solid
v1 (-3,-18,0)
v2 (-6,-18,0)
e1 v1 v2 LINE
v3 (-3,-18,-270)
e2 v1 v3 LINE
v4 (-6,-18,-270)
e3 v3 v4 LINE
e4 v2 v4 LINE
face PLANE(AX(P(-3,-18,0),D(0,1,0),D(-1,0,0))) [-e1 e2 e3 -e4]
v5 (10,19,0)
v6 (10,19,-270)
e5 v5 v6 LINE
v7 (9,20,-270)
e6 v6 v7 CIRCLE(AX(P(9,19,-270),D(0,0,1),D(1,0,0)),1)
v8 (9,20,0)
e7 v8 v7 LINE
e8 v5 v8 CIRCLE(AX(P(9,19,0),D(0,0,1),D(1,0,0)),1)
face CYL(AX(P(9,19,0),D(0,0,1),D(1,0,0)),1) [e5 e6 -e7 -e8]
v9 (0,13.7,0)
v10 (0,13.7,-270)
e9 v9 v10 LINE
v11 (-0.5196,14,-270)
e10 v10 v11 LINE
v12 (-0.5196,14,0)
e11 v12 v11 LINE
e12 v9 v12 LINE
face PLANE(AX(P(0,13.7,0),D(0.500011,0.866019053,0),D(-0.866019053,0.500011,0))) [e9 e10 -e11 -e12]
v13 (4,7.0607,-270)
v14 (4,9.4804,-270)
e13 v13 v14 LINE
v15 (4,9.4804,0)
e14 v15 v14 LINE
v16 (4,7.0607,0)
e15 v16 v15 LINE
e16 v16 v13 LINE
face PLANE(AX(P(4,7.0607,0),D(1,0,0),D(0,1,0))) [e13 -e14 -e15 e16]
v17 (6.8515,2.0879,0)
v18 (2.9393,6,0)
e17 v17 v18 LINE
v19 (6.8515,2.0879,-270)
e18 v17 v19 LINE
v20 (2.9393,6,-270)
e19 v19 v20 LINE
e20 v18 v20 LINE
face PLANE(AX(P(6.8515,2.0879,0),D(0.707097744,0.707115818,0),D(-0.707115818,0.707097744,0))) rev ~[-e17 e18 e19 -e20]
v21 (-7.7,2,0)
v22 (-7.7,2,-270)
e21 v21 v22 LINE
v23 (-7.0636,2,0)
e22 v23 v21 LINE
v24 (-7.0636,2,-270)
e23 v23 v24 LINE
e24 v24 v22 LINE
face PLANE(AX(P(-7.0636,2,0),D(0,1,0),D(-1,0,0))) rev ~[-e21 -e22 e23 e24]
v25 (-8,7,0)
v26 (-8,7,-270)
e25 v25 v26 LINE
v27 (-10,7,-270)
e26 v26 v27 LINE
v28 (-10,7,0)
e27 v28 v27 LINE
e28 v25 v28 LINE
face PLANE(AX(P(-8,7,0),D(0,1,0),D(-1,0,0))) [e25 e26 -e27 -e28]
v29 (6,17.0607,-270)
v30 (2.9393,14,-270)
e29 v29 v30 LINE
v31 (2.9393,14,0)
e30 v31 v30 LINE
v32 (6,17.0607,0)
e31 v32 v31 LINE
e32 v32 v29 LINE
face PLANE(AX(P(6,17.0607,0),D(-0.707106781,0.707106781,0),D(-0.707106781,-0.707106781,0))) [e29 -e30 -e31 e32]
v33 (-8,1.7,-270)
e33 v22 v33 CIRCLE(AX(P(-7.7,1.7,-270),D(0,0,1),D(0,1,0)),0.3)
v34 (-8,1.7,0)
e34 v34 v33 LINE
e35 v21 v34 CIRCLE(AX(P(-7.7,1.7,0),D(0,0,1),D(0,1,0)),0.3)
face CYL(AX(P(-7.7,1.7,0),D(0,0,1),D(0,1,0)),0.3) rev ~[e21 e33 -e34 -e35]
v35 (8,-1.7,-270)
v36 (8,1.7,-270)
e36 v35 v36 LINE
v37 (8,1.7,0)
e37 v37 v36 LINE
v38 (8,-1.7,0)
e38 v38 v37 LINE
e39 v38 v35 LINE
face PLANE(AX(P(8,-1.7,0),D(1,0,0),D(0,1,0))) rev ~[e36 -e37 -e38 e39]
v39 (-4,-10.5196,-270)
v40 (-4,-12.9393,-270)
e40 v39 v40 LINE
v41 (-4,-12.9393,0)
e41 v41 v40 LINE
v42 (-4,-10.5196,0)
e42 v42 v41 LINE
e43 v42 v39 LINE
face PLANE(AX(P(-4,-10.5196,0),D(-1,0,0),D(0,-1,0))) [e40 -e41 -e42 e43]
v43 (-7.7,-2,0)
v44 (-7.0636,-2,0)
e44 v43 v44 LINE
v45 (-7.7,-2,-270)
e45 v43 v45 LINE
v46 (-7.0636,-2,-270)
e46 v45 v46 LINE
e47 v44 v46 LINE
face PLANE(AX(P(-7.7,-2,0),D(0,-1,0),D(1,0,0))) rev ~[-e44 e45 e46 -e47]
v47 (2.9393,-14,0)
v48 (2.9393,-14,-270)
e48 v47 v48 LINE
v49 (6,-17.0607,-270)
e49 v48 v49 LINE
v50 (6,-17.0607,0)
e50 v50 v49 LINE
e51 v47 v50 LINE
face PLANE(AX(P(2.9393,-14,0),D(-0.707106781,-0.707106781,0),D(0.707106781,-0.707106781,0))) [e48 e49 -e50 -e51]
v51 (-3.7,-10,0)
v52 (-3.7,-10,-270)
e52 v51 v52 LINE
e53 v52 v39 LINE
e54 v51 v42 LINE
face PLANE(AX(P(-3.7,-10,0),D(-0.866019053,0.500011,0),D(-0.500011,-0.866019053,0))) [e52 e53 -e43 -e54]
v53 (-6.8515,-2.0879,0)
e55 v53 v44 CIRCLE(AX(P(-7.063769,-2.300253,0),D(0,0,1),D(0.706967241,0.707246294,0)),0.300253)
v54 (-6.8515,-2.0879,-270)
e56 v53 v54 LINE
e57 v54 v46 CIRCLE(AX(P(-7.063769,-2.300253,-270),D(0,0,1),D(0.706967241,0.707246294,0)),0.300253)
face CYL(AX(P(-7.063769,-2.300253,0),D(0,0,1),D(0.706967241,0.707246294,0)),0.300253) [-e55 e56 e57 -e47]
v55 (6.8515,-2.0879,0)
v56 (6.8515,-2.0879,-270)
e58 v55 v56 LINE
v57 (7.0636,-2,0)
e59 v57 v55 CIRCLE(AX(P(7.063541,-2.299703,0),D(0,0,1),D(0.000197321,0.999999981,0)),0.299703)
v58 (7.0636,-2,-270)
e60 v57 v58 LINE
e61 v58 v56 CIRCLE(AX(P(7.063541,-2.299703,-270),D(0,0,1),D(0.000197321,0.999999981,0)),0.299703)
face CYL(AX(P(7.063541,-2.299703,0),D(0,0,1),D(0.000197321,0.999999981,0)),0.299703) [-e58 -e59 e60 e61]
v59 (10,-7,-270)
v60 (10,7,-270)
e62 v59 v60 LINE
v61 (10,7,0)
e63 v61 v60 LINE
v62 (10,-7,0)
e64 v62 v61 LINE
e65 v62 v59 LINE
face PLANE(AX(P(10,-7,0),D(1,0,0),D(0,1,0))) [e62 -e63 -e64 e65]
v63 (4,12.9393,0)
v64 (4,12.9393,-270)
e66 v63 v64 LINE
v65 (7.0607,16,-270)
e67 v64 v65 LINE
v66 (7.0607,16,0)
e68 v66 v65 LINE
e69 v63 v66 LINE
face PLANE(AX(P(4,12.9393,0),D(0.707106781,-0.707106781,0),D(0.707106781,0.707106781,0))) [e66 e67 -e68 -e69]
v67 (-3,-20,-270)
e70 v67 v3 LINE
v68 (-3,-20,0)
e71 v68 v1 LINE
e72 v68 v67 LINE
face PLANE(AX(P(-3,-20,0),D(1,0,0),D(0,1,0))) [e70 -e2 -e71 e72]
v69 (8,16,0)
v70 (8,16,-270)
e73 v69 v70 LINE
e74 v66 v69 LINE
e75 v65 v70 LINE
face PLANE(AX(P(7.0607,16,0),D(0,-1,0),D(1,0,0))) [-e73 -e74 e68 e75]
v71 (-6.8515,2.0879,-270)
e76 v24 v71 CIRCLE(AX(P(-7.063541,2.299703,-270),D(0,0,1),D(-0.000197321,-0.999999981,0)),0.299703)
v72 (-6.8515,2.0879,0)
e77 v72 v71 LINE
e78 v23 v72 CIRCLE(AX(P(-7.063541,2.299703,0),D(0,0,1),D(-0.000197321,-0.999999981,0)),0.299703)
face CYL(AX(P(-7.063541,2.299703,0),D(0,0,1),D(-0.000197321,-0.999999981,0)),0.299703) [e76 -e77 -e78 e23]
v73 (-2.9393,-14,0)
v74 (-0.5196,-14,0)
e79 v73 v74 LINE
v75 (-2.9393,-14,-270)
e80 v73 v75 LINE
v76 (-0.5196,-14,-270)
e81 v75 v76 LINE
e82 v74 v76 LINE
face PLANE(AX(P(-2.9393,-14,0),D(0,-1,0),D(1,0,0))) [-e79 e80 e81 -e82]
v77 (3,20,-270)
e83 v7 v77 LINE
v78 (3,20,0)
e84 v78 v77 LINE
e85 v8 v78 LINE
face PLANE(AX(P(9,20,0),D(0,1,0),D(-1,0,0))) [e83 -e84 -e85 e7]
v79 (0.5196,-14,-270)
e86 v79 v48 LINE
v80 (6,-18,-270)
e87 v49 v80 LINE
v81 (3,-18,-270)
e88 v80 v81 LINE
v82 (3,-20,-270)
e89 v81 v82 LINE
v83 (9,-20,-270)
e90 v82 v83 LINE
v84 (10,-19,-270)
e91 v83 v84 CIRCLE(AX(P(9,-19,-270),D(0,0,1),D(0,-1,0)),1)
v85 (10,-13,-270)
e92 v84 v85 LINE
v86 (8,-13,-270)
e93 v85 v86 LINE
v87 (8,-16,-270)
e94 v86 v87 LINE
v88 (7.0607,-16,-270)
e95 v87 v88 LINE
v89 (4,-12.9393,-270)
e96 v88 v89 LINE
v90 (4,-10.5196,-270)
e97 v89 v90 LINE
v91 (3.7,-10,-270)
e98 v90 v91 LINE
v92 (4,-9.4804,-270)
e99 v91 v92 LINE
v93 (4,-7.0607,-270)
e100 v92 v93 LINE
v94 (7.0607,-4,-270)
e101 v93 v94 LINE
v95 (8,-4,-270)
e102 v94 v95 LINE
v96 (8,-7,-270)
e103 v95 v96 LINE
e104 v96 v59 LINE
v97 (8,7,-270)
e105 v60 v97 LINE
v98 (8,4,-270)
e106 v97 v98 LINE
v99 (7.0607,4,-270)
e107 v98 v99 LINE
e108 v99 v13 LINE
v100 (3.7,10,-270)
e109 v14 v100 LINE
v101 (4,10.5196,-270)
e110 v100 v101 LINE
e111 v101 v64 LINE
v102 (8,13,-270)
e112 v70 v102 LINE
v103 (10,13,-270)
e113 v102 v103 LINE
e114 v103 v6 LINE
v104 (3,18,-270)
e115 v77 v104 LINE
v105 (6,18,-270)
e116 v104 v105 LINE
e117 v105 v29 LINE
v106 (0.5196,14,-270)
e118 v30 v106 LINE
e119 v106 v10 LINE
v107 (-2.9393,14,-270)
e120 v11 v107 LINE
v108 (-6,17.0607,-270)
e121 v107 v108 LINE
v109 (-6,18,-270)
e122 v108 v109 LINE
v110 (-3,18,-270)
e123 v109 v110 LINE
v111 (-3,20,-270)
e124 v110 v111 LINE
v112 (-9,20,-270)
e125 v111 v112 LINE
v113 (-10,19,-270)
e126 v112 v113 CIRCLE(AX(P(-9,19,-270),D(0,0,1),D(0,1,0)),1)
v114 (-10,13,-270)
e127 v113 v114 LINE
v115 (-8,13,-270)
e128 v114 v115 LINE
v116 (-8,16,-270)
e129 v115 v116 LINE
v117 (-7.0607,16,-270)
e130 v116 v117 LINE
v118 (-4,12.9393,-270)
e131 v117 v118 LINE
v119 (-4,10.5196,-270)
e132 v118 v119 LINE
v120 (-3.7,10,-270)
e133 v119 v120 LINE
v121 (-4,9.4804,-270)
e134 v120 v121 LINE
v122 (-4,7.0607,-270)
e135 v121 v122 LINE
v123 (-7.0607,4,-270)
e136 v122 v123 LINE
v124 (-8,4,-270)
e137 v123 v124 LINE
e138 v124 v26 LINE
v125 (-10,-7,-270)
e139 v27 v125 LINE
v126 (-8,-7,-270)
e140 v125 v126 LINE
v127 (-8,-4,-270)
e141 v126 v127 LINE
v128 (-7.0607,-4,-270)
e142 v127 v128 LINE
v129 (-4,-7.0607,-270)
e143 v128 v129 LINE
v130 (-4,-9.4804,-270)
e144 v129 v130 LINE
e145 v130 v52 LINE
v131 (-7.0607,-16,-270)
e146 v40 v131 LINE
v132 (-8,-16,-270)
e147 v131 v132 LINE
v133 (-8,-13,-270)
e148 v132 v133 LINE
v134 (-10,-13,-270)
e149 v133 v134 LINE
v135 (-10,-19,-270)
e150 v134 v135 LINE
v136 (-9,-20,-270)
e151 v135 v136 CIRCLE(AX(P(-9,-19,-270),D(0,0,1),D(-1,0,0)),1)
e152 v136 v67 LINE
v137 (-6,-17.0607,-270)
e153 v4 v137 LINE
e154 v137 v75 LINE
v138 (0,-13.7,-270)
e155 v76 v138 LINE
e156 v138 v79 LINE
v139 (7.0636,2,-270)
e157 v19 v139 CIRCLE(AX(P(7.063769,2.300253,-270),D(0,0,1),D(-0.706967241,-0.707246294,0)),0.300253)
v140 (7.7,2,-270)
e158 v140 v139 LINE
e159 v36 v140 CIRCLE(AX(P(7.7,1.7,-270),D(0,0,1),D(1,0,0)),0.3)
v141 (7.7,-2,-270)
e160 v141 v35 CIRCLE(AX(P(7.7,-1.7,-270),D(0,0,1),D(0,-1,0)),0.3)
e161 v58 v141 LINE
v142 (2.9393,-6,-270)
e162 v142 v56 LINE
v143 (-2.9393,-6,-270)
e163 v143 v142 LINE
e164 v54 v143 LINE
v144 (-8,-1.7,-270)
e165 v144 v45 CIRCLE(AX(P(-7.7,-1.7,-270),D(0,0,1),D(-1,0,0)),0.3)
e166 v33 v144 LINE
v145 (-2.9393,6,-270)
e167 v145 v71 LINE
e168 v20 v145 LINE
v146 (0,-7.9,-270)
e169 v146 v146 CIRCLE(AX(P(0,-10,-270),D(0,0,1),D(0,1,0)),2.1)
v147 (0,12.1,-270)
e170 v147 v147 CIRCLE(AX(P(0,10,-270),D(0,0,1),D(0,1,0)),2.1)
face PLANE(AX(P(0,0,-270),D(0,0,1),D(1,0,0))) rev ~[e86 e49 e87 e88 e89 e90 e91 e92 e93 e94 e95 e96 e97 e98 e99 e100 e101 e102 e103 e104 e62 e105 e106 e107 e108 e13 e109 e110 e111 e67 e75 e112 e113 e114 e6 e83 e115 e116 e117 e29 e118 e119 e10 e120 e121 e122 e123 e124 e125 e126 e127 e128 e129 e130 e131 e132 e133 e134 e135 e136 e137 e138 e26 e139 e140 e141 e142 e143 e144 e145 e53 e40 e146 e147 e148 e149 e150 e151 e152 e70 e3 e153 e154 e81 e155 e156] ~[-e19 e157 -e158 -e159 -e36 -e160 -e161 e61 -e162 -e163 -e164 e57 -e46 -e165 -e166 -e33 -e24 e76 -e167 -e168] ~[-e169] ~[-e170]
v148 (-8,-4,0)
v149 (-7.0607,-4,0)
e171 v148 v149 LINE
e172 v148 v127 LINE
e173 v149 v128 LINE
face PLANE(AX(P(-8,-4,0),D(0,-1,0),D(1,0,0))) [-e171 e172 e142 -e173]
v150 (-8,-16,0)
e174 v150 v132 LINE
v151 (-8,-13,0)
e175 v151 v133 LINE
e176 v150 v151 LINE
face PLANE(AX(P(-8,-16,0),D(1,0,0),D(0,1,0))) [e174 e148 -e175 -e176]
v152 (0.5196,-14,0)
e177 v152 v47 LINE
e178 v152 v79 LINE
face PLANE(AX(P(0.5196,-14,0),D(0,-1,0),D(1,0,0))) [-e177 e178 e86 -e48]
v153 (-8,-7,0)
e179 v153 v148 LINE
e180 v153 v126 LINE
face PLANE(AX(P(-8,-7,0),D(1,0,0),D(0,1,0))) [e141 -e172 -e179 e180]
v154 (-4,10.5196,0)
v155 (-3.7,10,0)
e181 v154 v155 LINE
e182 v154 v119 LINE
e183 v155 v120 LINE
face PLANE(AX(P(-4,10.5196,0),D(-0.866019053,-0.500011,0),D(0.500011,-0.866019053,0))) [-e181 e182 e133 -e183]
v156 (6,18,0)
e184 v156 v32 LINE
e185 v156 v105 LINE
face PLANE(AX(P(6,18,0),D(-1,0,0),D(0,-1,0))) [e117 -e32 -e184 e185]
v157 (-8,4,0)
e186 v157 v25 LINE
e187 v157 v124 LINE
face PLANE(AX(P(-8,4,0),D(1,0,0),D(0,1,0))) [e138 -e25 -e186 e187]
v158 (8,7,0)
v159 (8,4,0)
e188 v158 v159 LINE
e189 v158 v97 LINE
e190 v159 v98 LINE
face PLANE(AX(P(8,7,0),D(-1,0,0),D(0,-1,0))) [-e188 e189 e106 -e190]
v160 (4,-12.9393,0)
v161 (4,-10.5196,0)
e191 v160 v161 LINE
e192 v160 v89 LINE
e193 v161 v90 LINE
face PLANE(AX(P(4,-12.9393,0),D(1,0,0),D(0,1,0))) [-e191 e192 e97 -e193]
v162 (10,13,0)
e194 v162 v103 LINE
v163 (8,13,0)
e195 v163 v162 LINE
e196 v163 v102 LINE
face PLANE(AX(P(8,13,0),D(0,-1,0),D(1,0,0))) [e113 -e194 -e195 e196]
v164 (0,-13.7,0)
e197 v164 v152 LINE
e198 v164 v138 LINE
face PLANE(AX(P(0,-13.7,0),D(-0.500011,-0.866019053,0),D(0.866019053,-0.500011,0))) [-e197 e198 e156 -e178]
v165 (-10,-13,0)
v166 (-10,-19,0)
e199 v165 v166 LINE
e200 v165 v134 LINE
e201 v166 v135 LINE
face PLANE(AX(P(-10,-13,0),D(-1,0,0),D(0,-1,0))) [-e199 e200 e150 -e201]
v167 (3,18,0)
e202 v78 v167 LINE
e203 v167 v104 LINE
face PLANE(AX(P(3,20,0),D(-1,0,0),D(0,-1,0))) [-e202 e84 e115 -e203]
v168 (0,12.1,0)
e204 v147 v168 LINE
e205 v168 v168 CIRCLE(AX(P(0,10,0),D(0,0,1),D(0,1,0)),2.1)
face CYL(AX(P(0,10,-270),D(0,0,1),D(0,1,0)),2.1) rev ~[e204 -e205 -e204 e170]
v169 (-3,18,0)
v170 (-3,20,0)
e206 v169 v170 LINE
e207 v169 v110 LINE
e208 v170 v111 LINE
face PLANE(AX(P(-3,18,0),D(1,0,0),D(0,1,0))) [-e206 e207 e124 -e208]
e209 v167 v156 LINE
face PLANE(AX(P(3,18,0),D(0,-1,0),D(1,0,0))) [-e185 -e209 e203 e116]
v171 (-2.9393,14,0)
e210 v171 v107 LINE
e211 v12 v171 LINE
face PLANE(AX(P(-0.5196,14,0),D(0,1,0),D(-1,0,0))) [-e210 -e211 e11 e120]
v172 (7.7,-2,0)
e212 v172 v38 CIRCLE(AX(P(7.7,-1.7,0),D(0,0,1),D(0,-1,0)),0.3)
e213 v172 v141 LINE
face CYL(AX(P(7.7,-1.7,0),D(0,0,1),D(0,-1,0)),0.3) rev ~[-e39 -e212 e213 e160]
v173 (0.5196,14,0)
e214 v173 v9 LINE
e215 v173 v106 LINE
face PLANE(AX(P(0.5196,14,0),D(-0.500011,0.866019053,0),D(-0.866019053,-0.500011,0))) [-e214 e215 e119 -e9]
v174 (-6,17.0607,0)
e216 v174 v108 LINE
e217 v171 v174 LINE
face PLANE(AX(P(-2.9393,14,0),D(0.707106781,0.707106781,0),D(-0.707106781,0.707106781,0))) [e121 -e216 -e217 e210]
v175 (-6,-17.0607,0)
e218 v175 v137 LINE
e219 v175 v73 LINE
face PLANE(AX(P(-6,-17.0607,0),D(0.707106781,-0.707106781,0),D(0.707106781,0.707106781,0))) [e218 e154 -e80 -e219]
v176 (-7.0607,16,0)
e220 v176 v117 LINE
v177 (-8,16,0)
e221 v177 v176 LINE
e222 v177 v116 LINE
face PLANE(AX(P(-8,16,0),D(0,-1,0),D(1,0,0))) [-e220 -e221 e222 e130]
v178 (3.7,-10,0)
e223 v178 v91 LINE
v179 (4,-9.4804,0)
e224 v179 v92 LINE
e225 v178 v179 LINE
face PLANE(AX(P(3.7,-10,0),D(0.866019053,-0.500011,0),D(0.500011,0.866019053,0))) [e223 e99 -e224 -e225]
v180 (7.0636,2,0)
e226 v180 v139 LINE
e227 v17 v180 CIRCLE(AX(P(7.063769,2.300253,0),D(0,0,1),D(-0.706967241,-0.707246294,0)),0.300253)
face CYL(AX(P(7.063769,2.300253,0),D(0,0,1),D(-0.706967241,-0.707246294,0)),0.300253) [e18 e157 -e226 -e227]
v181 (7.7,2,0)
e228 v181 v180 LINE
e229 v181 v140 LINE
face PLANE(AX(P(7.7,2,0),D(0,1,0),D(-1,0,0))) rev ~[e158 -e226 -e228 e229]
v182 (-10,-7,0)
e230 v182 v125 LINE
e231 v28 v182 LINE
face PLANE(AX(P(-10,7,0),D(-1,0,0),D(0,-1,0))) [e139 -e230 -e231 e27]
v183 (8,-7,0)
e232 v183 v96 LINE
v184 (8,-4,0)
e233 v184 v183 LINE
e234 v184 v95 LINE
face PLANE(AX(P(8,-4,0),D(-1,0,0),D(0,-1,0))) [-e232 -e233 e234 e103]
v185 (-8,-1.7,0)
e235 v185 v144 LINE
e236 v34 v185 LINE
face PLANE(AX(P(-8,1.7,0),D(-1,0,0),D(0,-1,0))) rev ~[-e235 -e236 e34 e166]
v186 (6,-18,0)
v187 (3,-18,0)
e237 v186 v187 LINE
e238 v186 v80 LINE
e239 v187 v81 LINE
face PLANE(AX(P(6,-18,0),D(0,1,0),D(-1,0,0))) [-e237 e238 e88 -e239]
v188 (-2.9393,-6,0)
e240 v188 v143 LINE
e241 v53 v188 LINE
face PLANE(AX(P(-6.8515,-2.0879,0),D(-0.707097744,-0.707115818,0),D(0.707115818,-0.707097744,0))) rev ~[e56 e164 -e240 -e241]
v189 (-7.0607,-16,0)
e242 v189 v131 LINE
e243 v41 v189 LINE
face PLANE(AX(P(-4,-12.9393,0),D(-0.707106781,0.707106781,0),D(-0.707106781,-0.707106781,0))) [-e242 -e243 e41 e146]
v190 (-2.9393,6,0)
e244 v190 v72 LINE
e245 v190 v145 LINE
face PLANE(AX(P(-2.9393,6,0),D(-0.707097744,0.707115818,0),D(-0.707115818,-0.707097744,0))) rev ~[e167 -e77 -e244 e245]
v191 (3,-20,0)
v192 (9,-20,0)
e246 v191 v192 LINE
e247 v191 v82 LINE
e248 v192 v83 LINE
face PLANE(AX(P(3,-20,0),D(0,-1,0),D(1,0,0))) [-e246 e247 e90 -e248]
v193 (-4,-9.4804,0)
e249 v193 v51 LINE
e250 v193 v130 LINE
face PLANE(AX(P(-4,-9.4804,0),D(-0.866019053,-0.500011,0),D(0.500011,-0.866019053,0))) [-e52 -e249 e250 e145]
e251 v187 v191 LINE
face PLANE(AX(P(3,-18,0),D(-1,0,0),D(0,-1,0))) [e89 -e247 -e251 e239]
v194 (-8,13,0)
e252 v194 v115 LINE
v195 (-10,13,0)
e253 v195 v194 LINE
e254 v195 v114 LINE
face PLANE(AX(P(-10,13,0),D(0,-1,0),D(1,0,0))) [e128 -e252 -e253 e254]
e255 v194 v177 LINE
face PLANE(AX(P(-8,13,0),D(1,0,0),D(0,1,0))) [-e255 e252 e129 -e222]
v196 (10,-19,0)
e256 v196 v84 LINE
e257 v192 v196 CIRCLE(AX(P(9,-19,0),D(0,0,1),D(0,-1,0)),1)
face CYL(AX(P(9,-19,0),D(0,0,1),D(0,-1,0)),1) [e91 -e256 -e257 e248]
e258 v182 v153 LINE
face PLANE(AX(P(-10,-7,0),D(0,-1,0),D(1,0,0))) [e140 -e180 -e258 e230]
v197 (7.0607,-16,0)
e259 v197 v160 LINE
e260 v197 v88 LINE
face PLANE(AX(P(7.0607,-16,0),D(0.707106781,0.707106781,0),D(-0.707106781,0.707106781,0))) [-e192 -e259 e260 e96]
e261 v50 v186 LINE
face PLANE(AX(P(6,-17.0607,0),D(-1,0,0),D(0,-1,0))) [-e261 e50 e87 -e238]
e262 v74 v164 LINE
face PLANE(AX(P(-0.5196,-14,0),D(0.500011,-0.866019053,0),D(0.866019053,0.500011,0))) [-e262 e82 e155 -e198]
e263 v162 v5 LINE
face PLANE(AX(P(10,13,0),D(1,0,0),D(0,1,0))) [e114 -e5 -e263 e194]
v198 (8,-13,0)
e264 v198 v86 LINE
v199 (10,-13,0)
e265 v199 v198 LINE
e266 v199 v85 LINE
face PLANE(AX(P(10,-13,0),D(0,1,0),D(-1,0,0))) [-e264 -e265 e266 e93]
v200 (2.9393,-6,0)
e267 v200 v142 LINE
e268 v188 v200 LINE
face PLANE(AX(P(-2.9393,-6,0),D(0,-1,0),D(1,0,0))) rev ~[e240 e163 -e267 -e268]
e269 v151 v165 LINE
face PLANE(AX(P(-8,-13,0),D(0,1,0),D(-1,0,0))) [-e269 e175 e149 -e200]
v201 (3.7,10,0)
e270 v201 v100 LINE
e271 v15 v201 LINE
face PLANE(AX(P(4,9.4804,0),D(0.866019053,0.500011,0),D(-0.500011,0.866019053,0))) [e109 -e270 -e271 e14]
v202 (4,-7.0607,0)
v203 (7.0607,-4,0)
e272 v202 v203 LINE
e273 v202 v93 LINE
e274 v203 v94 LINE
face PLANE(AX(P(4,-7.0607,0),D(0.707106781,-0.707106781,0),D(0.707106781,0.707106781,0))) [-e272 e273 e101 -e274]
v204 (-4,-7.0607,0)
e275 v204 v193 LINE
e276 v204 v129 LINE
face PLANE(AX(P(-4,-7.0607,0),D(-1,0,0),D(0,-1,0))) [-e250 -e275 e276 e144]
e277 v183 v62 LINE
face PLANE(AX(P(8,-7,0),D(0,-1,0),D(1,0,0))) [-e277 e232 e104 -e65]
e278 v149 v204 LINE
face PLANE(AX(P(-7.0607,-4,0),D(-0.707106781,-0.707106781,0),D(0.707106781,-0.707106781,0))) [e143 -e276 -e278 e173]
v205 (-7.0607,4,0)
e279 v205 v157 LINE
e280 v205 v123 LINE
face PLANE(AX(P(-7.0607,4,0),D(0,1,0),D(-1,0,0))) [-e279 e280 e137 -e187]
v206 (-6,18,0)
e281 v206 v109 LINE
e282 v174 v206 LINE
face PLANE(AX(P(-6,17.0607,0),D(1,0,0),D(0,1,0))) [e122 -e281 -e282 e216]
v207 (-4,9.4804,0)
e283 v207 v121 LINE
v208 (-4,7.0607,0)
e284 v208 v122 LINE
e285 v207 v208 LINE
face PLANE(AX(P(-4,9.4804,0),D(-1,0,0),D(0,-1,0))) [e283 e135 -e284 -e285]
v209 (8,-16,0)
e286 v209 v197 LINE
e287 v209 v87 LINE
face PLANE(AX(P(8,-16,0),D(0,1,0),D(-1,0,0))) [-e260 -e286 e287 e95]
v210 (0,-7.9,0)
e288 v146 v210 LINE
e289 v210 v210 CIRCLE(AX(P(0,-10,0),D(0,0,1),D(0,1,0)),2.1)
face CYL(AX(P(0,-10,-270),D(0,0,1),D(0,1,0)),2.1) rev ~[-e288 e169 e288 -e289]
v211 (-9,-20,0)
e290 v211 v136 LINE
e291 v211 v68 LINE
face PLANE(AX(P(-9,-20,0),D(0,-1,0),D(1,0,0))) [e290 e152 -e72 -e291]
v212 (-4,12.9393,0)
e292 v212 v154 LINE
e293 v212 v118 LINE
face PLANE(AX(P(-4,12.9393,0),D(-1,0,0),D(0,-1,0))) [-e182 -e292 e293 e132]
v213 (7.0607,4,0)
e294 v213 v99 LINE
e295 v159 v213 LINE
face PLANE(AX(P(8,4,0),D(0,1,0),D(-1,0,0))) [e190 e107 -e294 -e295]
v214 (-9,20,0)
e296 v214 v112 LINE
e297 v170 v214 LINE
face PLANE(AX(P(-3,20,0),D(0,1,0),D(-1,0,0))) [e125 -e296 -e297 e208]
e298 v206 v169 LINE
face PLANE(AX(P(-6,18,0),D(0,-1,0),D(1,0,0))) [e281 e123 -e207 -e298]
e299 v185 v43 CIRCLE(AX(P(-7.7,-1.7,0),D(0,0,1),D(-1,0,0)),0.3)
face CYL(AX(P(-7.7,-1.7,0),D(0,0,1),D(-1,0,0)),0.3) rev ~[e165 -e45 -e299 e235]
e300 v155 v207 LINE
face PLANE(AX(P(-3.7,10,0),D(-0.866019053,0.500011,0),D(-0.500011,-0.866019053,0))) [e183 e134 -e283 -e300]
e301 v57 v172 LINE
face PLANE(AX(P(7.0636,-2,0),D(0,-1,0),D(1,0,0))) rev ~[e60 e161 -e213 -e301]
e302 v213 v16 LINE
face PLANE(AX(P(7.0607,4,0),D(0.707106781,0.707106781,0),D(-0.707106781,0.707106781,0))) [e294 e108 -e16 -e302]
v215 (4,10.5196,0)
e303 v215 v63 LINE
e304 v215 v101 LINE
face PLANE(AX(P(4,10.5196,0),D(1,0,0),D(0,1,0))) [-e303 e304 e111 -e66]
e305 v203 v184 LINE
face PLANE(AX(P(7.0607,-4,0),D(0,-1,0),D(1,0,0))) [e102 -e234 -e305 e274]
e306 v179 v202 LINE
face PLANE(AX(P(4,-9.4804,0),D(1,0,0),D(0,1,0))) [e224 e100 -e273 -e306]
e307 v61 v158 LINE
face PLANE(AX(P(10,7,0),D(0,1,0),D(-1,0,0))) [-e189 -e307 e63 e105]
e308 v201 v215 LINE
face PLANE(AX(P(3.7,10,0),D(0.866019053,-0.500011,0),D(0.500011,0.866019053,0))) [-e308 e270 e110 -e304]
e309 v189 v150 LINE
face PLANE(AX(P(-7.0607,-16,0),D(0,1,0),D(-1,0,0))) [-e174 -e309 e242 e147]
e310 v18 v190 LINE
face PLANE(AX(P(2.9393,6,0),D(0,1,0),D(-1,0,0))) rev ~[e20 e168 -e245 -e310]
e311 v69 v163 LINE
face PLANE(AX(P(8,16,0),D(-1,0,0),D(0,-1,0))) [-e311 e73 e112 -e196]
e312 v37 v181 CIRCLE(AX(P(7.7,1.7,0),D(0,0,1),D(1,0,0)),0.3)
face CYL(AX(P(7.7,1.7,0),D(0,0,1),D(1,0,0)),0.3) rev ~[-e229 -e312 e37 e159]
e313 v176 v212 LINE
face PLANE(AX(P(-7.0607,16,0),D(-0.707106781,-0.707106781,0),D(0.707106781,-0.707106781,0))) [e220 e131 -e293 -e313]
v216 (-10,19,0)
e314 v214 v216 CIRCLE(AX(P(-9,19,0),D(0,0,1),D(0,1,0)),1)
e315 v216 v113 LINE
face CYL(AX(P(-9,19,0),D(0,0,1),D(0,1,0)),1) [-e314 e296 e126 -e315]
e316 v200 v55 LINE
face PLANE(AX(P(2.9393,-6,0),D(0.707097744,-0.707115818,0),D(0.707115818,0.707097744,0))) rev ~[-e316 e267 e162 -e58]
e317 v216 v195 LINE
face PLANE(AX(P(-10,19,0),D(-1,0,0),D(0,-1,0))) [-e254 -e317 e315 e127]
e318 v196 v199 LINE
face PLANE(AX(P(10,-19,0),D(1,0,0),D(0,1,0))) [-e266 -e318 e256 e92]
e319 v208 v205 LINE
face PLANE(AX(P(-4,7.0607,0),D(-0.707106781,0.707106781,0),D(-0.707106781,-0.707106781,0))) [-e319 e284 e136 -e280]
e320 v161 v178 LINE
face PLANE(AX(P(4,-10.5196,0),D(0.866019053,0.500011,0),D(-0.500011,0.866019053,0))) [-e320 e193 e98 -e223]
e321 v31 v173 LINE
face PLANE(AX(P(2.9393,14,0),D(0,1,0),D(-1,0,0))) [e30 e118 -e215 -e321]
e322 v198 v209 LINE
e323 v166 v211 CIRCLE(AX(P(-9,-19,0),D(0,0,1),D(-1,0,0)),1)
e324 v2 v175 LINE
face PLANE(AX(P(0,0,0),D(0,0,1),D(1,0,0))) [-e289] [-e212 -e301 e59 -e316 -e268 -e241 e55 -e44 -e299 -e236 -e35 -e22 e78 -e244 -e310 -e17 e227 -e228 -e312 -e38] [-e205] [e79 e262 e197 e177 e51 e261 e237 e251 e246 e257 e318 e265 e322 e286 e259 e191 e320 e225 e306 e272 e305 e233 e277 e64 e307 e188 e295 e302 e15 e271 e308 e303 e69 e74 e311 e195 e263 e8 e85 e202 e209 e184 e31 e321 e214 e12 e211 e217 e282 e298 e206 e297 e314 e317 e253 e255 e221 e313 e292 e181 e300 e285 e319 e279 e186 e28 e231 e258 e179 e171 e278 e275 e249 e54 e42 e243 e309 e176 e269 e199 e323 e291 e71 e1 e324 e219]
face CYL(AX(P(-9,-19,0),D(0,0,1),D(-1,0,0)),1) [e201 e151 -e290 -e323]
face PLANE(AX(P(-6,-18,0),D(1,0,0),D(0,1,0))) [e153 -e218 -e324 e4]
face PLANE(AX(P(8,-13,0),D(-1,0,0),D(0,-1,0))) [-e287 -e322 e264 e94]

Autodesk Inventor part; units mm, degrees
sketch "Sketch_1" plane through (0, 0, 0) normal (0, 0, 1) x (1, 0, 0)
  line L0 (-10, -7) -> (-8, -7)
  line L1 (-8, -7) -> (-8, -4)
  line L2 (-8, -4) -> (-7.0607, -4)
  line L3 (-7.0607, -4) -> (-4, -7.0607)
  line L4 (-4, -7.0607) -> (-4, -9.4804)
  line L5 (-4, -9.4804) -> (-3.7, -10)
  line L6 (-3.7, -10) -> (-4, -10.5196)
  line L7 (-4, -10.5196) -> (-4, -12.9393)
  line L8 (-4, -12.9393) -> (-7.0607, -16)
  line L9 (-7.0607, -16) -> (-8, -16)
  line L10 (-8, -16) -> (-8, -13)
  line L11 (-8, -13) -> (-10, -13)
  line L12 (-10, -13) -> (-10, -19)
  arc A0 (-10, -19) -> (-9, -20) centre (-9, -19) ccw
  line L13 (-9, -20) -> (-3, -20)
  line L14 (-3, -20) -> (-3, -18)
  line L15 (-3, -18) -> (-6, -18)
  line L16 (-6, -18) -> (-6, -17.0607)
  line L17 (-6, -17.0607) -> (-2.9393, -14)
  line L18 (-2.9393, -14) -> (-0.5196, -14)
  line L19 (-0.5196, -14) -> (0, -13.7)
  line L20 (0, -13.7) -> (0.5196, -14)
  line L21 (0.5196, -14) -> (2.9393, -14)
  line L22 (2.9393, -14) -> (6, -17.0607)
  line L23 (6, -17.0607) -> (6, -18)
  line L24 (6, -18) -> (3, -18)
  line L25 (3, -18) -> (3, -20)
  line L26 (3, -20) -> (9, -20)
  arc A1 (9, -20) -> (10, -19) centre (9, -19) ccw
  line L27 (10, -19) -> (10, -13)
  line L28 (10, -13) -> (8, -13)
  line L29 (8, -13) -> (8, -16)
  line L30 (8, -16) -> (7.0607, -16)
  line L31 (7.0607, -16) -> (4, -12.9393)
  line L32 (4, -12.9393) -> (4, -10.5196)
  line L33 (4, -10.5196) -> (3.7, -10)
  line L34 (3.7, -10) -> (4, -9.4804)
  line L35 (4, -9.4804) -> (4, -7.0607)
  line L36 (4, -7.0607) -> (7.0607, -4)
  line L37 (7.0607, -4) -> (8, -4)
  line L38 (8, -4) -> (8, -7)
  line L39 (8, -7) -> (10, -7)
  line L40 (10, -7) -> (10, 7)
  line L41 (10, 7) -> (8, 7)
  line L42 (8, 7) -> (8, 4)
  line L43 (8, 4) -> (7.0607, 4)
  line L44 (7.0607, 4) -> (4, 7.0607)
  line L45 (4, 7.0607) -> (4, 9.4804)
  line L46 (4, 9.4804) -> (3.7, 10)
  line L47 (3.7, 10) -> (4, 10.5196)
  line L48 (4, 10.5196) -> (4, 12.9393)
  line L49 (4, 12.9393) -> (7.0607, 16)
  line L50 (7.0607, 16) -> (8, 16)
  line L51 (8, 16) -> (8, 13)
  line L52 (8, 13) -> (10, 13)
  line L53 (10, 13) -> (10, 19)
  arc A2 (10, 19) -> (9, 20) centre (9, 19) ccw
  line L54 (9, 20) -> (3, 20)
  line L55 (3, 20) -> (3, 18)
  line L56 (3, 18) -> (6, 18)
  line L57 (6, 18) -> (6, 17.0607)
  line L58 (6, 17.0607) -> (2.9393, 14)
  line L59 (2.9393, 14) -> (0.5196, 14)
  line L60 (0.5196, 14) -> (0, 13.7)
  line L61 (0, 13.7) -> (-0.5196, 14)
  line L62 (-0.5196, 14) -> (-2.9393, 14)
  line L63 (-2.9393, 14) -> (-6, 17.0607)
  line L64 (-6, 17.0607) -> (-6, 18)
  line L65 (-6, 18) -> (-3, 18)
  line L66 (-3, 18) -> (-3, 20)
  line L67 (-3, 20) -> (-9, 20)
  arc A3 (-9, 20) -> (-10, 19) centre (-9, 19) ccw
  line L68 (-10, 19) -> (-10, 13)
  line L69 (-10, 13) -> (-8, 13)
  line L70 (-8, 13) -> (-8, 16)
  line L71 (-8, 16) -> (-7.0607, 16)
  line L72 (-7.0607, 16) -> (-4, 12.9393)
  line L73 (-4, 12.9393) -> (-4, 10.5196)
  line L74 (-4, 10.5196) -> (-3.7, 10)
  line L75 (-3.7, 10) -> (-4, 9.4804)
  line L76 (-4, 9.4804) -> (-4, 7.0607)
  line L77 (-4, 7.0607) -> (-7.0607, 4)
  line L78 (-7.0607, 4) -> (-8, 4)
  line L79 (-8, 4) -> (-8, 7)
  line L80 (-8, 7) -> (-10, 7)
  line L81 (-10, 7) -> (-10, -7)
  line L82 (-8, 1.7) -> (-8, -1.7)
  arc A4 (-8, -1.7) -> (-7.7, -2) centre (-7.7, -1.7) ccw
  line L83 (-7.7, -2) -> (-7.0636, -2)
  arc A5 (-6.8515, -2.0879) -> (-7.0636, -2) centre (-7.0636, -2.3) ccw
  line L84 (-6.8515, -2.0879) -> (-2.9393, -6)
  line L85 (-2.9393, -6) -> (2.9393, -6)
  line L86 (2.9393, -6) -> (6.8515, -2.0879)
  arc A6 (7.0636, -2) -> (6.8515, -2.0879) centre (7.0636, -2.3) ccw
  line L87 (7.0636, -2) -> (7.7, -2)
  arc A7 (7.7, -2) -> (8, -1.7) centre (7.7, -1.7) ccw
  line L88 (8, -1.7) -> (8, 1.7)
  arc A8 (8, 1.7) -> (7.7, 2) centre (7.7, 1.7) ccw
  line L89 (7.7, 2) -> (7.0636, 2)
  arc A9 (6.8515, 2.0879) -> (7.0636, 2) centre (7.0636, 2.3) ccw
  line L90 (6.8515, 2.0879) -> (2.9393, 6)
  line L91 (2.9393, 6) -> (-2.9393, 6)
  line L92 (-2.9393, 6) -> (-6.8515, 2.0879)
  arc A10 (-7.0636, 2) -> (-6.8515, 2.0879) centre (-7.0636, 2.3) ccw
  line L93 (-7.0636, 2) -> (-7.7, 2)
  arc A11 (-7.7, 2) -> (-8, 1.7) centre (-7.7, 1.7) ccw
extrude "Extrusion1" add sketch "Sketch_1" against normal blind 270
sketch "Sketch2" plane through (0, 0, -270) normal (0, 0, -1) x (-1, 0, 0)
  point P0 (0, 10)
hole "Hole1" at (0, 10, -270) direction (0, 0, 1) diameter 4.2 depth 270
pattern_linear "Rectangular Pattern1" count 2 spacing 20 along (0, -1, 0) of "Hole1"
ref_plane "C1_XY" through (0, 0, 0) normal (0, 0, 1) x (1, 0, 0)
ref_plane "C1_YZ" through (0, 0, 0) normal (1, 0, 0) x (0, 1, 0)
ref_plane "C1_ZX" through (0, 0, 0) normal (0, 1, 0) x (0, 0, 1)
properties part number "HFS5-2040-270"
